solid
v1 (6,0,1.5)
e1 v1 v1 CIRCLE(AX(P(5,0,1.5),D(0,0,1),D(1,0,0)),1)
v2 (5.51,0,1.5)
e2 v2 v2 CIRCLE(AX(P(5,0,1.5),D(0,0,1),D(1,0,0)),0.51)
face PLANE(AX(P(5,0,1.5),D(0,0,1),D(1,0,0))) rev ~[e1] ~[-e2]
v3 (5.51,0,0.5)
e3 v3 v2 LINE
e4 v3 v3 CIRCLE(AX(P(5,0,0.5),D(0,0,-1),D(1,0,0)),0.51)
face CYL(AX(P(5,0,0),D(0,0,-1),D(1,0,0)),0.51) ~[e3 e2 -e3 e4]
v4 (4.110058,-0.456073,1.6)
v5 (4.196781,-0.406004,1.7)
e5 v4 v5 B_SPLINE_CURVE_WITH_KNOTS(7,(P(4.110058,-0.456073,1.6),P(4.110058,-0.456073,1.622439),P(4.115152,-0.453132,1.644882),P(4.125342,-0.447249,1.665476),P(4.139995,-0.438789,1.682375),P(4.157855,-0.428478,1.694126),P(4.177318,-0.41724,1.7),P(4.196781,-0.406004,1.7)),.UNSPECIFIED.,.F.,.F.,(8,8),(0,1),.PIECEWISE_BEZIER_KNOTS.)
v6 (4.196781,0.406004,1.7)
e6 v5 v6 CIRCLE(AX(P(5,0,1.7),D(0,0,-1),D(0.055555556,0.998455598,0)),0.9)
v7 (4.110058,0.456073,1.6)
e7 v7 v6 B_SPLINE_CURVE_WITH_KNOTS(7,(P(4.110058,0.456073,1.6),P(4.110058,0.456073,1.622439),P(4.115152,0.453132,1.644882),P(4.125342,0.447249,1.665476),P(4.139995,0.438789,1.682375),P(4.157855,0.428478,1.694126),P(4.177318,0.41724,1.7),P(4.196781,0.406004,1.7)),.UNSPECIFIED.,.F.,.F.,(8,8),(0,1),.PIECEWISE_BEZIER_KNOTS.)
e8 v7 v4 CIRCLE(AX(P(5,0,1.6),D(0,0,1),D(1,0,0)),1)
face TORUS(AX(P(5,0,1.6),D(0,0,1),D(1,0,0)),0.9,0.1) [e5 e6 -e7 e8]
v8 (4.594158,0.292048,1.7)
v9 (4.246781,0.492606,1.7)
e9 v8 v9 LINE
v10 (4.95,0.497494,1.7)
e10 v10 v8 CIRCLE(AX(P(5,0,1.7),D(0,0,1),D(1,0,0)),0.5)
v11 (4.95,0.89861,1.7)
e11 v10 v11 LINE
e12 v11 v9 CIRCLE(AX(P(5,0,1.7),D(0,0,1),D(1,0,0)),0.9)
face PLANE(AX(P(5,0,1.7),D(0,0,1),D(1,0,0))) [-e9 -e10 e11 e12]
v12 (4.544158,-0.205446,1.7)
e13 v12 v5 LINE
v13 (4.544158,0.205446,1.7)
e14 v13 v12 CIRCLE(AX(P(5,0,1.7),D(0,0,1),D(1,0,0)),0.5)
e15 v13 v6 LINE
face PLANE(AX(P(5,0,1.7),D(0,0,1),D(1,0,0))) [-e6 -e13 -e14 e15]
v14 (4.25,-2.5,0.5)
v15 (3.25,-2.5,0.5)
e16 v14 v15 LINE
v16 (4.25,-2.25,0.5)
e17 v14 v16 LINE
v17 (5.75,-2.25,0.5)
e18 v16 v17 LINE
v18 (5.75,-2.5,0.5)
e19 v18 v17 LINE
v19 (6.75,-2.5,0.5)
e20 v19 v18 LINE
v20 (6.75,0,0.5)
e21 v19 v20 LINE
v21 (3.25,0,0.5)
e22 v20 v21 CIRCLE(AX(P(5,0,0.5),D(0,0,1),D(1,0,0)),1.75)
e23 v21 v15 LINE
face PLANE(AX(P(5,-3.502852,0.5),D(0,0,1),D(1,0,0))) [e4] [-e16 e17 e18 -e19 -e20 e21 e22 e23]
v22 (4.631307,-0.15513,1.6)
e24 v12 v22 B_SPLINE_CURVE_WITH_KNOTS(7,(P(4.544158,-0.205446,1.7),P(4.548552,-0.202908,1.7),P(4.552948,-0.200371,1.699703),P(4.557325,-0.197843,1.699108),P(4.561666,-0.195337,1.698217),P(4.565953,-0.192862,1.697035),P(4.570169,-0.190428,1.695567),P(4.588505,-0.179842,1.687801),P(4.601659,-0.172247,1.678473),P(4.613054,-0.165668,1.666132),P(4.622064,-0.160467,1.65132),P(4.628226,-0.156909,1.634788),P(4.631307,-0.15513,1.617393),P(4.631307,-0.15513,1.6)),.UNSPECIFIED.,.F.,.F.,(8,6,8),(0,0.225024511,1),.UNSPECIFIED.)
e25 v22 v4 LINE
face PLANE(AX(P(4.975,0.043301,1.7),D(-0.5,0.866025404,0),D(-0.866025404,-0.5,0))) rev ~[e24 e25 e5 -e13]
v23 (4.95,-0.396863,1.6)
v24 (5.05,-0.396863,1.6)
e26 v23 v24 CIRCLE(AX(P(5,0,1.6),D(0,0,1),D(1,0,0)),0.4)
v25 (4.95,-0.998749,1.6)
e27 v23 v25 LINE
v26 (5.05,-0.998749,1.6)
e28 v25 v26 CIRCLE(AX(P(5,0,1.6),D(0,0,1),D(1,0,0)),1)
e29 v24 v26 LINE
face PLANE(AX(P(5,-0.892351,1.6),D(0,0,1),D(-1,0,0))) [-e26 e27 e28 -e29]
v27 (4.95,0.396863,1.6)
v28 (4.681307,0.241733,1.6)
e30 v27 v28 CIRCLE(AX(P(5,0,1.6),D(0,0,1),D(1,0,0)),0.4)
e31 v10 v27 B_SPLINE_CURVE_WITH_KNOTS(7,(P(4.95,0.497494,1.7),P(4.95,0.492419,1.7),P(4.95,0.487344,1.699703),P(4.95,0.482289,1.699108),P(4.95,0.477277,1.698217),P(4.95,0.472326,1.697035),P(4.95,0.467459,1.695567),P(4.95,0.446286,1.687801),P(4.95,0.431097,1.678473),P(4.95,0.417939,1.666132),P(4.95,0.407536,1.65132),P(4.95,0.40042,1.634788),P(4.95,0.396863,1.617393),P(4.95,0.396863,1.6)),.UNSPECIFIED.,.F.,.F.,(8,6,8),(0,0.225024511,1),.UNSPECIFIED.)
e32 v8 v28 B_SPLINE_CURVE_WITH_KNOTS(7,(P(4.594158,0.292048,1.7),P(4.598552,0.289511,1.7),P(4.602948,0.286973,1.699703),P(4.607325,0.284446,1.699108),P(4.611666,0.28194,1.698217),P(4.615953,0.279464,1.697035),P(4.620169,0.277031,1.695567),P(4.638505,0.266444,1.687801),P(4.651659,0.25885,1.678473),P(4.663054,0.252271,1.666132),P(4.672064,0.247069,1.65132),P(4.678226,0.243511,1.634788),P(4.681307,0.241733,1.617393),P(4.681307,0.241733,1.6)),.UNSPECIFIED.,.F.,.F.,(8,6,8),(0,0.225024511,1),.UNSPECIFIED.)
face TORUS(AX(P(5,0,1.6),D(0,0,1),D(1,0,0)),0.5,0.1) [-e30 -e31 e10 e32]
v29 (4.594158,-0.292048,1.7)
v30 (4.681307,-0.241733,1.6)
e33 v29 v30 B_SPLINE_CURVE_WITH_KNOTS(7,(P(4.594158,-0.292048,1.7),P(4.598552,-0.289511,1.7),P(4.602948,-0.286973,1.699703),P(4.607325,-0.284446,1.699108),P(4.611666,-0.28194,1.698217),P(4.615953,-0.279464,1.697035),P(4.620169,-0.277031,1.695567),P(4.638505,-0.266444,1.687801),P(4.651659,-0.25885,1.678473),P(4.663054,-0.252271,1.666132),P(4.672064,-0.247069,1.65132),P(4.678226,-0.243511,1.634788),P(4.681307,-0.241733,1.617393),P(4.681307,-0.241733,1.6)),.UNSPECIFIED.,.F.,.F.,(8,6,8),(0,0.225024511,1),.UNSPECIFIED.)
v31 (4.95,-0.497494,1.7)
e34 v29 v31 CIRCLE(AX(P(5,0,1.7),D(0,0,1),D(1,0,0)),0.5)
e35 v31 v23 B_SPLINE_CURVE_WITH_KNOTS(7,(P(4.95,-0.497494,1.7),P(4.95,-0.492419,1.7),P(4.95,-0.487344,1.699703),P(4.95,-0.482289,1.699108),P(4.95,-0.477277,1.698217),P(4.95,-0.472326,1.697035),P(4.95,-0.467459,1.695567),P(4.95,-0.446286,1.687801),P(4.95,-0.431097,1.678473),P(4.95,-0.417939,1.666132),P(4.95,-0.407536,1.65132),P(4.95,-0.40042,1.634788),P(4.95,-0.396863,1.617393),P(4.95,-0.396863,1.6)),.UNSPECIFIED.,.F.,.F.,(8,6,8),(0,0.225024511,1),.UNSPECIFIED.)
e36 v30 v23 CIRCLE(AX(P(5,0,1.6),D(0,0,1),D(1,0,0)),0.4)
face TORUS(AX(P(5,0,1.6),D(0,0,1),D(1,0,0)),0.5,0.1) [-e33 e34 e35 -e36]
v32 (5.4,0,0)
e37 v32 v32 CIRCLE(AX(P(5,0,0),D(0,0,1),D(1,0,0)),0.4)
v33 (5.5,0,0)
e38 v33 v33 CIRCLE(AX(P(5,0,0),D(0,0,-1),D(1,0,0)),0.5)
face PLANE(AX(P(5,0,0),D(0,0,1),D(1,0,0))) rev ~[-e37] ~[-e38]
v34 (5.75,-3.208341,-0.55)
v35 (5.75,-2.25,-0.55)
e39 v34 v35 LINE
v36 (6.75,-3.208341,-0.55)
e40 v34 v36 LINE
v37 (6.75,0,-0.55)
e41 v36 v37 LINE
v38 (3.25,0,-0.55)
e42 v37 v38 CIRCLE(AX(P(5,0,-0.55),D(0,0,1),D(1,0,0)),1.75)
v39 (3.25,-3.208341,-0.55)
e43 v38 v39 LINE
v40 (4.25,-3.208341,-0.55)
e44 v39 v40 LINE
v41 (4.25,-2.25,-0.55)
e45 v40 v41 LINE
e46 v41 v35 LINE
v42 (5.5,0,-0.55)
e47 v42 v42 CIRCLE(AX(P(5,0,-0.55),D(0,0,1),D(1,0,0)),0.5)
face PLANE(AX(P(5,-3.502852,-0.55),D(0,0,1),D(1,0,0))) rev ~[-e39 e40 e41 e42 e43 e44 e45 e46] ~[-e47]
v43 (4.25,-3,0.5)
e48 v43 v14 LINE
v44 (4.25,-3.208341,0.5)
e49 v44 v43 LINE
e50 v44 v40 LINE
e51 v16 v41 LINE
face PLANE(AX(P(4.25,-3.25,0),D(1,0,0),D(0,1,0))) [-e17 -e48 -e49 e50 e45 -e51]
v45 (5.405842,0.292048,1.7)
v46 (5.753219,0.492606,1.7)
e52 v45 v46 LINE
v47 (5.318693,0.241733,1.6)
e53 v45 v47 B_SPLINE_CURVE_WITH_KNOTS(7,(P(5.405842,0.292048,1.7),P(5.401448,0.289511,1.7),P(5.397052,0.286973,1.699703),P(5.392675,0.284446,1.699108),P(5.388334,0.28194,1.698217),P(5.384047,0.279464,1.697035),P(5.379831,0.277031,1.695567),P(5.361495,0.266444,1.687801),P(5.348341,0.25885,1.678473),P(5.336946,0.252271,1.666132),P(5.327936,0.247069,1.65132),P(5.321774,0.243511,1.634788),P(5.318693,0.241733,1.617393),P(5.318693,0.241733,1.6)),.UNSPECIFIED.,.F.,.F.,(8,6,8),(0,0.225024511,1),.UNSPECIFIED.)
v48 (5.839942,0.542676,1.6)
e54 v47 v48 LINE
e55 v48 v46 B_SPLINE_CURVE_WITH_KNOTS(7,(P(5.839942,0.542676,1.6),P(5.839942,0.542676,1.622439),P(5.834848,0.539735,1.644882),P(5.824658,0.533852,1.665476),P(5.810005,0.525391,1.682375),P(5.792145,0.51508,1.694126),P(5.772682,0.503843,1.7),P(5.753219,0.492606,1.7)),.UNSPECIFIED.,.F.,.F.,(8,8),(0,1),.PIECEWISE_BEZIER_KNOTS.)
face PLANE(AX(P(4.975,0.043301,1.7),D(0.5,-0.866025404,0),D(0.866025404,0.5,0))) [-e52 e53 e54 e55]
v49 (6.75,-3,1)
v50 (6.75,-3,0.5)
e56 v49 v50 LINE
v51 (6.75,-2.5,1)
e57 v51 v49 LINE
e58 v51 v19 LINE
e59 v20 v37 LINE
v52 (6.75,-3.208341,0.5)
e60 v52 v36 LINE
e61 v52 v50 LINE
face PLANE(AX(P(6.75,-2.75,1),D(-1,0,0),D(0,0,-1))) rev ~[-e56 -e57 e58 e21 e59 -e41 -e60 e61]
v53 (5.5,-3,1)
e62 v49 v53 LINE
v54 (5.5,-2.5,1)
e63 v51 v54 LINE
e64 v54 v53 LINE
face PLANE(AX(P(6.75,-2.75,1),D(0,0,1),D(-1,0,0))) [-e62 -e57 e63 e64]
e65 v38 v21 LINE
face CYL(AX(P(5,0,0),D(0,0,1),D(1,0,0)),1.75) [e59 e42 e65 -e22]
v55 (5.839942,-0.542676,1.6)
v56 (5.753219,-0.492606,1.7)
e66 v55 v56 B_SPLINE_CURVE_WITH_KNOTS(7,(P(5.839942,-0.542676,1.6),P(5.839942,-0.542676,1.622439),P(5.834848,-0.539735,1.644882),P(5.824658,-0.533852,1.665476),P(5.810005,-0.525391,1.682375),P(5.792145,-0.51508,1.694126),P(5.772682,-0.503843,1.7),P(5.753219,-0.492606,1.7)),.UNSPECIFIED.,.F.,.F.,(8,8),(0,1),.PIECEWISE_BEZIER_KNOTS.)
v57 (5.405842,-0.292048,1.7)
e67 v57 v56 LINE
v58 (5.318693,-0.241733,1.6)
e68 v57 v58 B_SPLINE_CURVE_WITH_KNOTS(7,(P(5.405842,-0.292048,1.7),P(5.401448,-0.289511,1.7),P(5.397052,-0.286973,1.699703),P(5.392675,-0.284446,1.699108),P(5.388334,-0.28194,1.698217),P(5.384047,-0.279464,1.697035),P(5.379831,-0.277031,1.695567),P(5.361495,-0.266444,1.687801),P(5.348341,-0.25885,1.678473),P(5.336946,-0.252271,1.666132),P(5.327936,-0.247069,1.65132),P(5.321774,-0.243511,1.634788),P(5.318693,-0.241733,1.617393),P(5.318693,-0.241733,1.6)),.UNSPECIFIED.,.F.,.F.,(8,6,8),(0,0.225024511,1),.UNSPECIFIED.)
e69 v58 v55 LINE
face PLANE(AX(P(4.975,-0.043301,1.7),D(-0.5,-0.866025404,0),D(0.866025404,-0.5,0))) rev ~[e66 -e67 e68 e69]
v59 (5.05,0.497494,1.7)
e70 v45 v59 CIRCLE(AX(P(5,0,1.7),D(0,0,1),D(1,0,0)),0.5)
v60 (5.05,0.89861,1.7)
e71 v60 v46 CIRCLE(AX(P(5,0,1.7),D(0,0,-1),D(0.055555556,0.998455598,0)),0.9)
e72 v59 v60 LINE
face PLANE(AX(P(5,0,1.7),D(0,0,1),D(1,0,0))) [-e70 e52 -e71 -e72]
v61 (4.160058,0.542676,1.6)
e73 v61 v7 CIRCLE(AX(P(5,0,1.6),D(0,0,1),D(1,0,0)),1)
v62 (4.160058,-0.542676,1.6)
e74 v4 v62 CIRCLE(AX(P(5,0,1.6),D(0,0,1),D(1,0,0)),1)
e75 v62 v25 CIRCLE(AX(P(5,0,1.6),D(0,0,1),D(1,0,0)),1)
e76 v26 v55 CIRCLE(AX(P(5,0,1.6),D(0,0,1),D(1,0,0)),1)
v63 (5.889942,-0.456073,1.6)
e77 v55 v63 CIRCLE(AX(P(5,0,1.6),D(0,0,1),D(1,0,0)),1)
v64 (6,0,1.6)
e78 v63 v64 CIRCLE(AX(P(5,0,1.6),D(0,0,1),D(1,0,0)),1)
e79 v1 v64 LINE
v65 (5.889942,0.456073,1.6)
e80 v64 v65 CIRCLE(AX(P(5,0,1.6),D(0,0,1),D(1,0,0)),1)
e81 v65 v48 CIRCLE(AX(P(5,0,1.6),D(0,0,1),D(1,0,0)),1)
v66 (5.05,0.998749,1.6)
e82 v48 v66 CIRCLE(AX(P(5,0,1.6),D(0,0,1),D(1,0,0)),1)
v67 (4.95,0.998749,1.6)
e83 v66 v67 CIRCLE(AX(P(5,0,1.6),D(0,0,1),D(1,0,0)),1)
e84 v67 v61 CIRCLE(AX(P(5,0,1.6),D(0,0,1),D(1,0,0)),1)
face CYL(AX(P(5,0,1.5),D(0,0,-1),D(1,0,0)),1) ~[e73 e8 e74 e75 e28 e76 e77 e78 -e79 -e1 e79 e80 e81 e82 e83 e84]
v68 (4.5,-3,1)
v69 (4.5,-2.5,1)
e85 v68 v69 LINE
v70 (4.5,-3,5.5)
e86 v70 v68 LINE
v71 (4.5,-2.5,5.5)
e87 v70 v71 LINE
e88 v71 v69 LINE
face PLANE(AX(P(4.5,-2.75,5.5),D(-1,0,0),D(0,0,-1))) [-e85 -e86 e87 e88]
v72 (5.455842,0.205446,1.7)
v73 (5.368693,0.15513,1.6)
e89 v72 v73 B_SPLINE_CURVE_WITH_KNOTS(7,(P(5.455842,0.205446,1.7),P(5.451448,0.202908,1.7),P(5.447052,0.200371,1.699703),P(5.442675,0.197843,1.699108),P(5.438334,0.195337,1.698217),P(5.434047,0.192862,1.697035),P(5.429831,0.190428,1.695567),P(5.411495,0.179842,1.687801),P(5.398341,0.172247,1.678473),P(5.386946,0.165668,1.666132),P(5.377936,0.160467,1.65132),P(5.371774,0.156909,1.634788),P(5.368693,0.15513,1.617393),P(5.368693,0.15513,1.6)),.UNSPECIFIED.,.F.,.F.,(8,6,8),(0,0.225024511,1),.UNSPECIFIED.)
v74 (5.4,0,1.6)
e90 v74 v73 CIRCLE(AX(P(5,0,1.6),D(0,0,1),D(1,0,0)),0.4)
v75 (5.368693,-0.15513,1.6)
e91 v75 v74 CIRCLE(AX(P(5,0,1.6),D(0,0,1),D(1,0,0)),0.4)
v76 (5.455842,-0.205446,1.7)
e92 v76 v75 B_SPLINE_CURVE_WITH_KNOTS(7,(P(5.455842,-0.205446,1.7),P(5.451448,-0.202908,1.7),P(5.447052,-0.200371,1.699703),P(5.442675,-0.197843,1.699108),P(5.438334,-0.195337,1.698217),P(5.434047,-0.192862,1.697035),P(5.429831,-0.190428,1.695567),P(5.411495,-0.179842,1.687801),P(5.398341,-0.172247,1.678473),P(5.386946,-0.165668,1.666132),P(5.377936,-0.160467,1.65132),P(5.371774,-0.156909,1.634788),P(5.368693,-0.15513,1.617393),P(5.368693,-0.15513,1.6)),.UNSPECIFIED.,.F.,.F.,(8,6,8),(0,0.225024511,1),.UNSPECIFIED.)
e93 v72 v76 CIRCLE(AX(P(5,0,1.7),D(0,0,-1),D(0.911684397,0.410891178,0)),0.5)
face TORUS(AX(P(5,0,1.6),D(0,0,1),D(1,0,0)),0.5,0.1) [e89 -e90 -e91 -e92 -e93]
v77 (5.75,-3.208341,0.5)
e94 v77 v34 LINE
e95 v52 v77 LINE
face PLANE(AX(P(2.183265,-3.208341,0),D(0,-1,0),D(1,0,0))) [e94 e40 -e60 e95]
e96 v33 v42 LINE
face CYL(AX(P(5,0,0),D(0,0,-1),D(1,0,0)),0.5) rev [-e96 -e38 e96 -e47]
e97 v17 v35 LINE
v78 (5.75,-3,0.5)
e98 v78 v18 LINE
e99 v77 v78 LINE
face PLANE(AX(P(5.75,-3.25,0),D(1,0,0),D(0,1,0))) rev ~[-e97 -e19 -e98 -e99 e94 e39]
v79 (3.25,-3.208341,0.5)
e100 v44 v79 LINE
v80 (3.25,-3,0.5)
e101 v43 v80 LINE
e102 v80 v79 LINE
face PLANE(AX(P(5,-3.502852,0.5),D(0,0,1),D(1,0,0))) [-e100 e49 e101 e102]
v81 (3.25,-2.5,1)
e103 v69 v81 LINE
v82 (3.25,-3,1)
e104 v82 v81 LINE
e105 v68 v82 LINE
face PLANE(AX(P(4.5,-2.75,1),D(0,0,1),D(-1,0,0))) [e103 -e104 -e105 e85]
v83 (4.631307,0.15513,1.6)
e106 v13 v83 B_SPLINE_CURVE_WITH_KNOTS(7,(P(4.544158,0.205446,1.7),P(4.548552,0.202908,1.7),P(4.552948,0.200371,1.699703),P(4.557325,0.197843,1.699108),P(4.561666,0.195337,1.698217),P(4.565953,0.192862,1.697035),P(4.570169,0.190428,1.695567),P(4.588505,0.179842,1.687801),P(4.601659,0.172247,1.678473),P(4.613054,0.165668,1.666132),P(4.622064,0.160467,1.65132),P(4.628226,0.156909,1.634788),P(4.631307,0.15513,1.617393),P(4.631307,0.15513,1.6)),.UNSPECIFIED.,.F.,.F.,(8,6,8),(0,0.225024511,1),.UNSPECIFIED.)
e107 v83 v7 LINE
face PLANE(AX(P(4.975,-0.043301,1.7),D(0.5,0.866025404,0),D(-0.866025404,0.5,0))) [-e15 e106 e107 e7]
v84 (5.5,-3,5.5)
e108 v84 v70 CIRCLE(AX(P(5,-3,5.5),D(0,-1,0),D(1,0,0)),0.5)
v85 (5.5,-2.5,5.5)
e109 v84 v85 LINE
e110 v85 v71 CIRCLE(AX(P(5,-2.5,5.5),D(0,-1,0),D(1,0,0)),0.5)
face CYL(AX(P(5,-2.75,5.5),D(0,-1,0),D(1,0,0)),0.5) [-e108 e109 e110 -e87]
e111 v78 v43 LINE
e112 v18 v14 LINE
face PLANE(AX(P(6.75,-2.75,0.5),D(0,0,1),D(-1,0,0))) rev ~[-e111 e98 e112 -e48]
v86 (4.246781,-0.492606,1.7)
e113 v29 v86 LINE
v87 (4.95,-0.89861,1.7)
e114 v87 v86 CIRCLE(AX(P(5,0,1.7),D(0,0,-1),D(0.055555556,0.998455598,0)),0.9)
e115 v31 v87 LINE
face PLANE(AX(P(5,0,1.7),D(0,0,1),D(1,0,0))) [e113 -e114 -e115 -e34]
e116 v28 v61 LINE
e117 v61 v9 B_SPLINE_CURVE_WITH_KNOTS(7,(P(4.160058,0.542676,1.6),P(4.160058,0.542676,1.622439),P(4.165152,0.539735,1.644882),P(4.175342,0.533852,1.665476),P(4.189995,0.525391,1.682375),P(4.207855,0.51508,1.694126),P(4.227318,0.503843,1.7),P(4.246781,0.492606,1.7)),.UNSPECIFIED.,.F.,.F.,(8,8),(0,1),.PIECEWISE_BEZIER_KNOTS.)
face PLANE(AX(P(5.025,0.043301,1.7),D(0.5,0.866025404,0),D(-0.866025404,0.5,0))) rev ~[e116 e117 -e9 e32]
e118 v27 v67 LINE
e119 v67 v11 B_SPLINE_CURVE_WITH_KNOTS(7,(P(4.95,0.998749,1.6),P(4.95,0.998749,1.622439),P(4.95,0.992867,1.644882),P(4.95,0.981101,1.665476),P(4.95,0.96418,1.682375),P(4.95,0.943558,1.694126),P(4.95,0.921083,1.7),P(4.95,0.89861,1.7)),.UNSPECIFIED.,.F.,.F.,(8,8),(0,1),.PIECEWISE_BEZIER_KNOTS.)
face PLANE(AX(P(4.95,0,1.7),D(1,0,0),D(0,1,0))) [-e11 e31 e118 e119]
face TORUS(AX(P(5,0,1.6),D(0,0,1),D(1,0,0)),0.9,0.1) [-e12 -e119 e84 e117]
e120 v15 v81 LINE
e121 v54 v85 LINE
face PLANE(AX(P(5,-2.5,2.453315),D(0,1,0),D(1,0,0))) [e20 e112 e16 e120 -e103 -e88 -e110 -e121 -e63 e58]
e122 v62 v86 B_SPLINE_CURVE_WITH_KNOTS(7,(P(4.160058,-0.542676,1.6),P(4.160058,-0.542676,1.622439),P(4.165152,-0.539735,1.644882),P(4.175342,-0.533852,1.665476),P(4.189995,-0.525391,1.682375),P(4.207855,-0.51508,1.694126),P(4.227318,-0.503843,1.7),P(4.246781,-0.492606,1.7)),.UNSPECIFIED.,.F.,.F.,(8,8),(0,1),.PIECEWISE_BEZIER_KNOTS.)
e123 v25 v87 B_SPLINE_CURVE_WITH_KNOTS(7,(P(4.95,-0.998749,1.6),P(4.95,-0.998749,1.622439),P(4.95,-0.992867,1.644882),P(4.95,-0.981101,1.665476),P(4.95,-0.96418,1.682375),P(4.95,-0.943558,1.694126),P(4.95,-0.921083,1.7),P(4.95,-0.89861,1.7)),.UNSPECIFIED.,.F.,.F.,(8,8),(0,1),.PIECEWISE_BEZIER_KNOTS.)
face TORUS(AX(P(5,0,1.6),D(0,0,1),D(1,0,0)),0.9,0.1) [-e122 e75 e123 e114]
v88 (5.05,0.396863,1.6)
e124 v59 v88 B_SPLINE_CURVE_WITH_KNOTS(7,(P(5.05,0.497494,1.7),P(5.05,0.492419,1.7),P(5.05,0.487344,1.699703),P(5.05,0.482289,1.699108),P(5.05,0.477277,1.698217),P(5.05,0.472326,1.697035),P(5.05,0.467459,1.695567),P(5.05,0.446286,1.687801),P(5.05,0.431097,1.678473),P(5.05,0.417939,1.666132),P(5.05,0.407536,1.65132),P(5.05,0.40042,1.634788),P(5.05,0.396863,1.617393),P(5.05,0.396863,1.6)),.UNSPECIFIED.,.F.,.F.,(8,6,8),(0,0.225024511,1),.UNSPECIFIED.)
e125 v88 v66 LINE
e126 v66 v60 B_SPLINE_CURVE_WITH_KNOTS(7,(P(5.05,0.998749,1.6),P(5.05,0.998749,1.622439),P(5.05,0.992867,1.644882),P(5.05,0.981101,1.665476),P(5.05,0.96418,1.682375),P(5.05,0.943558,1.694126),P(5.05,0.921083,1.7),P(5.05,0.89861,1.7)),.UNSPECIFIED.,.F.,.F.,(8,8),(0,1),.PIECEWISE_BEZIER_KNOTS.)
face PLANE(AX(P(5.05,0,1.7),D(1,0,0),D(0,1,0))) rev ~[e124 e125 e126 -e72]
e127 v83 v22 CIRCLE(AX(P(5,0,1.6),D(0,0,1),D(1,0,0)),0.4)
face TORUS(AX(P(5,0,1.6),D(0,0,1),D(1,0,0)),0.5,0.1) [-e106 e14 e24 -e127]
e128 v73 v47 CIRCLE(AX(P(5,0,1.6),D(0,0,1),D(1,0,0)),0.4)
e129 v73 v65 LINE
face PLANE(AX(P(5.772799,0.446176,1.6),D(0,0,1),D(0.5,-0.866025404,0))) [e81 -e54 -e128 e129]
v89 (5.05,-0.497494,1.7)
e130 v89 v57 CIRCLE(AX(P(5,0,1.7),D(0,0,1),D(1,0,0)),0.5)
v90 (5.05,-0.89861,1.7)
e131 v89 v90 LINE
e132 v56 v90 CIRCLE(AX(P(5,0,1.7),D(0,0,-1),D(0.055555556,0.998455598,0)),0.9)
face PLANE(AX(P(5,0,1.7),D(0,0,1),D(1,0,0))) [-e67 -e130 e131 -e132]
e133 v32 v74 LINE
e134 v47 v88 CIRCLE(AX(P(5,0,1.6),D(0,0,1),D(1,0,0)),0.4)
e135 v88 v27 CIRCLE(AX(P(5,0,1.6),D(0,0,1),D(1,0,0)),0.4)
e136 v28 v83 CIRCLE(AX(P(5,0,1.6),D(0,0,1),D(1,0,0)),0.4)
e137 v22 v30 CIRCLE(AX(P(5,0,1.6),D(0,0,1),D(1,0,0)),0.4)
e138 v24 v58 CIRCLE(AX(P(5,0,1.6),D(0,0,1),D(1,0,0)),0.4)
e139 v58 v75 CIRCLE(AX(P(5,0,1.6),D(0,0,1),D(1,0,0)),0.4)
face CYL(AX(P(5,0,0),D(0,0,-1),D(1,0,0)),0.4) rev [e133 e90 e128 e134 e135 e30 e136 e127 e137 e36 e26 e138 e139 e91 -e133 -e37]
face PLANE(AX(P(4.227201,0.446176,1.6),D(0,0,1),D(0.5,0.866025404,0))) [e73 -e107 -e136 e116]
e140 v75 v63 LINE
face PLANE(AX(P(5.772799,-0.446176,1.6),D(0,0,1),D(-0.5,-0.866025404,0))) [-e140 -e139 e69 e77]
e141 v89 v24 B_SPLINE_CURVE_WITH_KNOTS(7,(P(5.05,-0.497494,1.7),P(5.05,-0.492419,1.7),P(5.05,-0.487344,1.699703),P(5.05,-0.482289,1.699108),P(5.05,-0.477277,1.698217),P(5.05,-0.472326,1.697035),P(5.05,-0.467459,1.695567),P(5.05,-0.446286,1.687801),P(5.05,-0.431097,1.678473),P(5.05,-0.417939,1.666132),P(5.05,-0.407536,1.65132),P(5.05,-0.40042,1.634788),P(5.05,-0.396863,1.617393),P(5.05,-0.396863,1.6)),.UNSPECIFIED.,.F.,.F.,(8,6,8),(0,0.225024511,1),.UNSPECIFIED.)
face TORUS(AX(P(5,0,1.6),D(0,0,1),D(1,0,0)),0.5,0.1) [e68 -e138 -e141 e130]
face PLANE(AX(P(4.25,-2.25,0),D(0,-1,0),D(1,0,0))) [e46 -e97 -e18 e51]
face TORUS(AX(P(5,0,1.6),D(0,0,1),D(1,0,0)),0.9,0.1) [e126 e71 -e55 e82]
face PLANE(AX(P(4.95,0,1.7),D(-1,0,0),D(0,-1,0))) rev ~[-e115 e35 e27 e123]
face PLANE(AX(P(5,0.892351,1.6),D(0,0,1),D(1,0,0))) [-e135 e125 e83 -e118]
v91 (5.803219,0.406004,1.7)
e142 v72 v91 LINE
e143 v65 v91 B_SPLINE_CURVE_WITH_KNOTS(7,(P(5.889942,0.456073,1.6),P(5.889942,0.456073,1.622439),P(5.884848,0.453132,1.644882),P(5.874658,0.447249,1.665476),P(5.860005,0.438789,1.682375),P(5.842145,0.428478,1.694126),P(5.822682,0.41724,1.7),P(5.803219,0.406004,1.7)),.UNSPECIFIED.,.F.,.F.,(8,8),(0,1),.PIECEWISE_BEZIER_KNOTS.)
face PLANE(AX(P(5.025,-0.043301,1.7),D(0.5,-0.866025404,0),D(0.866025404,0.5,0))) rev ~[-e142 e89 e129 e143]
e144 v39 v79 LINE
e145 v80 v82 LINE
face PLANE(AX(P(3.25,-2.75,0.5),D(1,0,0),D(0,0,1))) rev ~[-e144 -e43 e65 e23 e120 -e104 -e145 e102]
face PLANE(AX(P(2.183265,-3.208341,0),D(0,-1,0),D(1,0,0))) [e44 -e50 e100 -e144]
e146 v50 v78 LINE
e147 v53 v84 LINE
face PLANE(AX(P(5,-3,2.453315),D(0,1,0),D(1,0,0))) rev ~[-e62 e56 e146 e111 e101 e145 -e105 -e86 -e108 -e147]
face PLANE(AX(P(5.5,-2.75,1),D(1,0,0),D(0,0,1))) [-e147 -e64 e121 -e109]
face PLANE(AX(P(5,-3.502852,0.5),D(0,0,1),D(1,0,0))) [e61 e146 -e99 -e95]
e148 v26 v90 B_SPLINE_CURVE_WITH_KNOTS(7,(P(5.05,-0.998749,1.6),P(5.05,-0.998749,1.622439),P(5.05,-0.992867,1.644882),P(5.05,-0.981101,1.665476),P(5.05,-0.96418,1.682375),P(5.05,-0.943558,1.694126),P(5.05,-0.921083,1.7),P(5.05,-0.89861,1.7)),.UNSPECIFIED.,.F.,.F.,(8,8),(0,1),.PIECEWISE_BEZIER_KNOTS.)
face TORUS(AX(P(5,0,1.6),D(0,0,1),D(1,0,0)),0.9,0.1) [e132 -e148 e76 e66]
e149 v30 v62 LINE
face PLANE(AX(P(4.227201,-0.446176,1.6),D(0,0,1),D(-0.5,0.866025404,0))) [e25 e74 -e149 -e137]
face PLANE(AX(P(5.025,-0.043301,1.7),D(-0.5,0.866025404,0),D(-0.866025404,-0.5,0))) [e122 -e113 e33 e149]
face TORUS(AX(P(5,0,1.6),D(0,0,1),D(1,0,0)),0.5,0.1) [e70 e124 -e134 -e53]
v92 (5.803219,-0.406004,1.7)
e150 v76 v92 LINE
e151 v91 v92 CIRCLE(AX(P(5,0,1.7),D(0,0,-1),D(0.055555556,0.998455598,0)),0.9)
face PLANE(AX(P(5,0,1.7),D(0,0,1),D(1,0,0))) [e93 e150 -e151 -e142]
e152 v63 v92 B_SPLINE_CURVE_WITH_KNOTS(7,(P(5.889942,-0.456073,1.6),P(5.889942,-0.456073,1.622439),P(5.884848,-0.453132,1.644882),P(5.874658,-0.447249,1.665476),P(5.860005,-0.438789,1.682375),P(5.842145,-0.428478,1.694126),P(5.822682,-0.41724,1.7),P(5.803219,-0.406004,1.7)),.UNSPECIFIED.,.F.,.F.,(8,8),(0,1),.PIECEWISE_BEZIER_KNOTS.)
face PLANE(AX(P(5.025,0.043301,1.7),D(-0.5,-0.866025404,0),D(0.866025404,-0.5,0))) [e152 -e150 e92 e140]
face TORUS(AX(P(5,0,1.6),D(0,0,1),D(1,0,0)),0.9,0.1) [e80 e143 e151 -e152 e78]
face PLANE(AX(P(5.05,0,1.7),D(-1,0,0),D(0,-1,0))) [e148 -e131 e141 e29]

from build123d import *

# Parameters (mm, degrees)
SKETCH_R           = 0.5
SKETCH_W           = 1.5
SKETCH_H           = 1
PAD_DEPTH          = 0.5
PAD_DEPTH_BACK     = 0.55
SKETCH001_W        = 4.919434
SKETCH001_H        = 5.037946
POCKET_DEPTH       = 1.05
POCKET_DEPTH_BACK  = 1.55
SKETCH006_W        = 1.496239
SKETCH006_H        = 0.320585
POCKET003_DEPTH    = 5
SKETCH002_R        = 0.51
SKETCH002_R_2      = 0.4
PAD001_DEPTH       = 1.5
SKETCH003_R        = 1
PAD002_DEPTH       = 0.2
SKETCH004_R        = 0.4
POCKET001_DEPTH    = 1
FILLET_R           = 0.1
SKETCH005_W        = 0.1
SKETCH005_H        = 1.784702
POCKET002_DEPTH    = 0.1
POLARPATTERN_COUNT = 6
PAD003_DEPTH       = 0.25


with BuildPart() as part:
    # Sketch → Pad (new body, two sides)
    with BuildSketch(Plane.XY) as pad_sk:
        with BuildLine():
            ThreePointArc((1.75, 0), (0, 1.75), (-1.75, 0))
            Line((-1.75, 0), (-1.75, -4.25))
            Line((-1.75, -4.25), (-1.75, -8))
            Line((-1.75, -8), (1.75, -8))
            Line((1.75, -8), (1.75, -4.25))
            Line((1.75, -4.25), (1.75, 0))
        make_face()
        Circle(SKETCH_R, mode=Mode.SUBTRACT)
        with Locations((0, -2.75)):
            Rectangle(SKETCH_W, SKETCH_H, mode=Mode.SUBTRACT)
    extrude(amount=PAD_DEPTH)
    extrude(pad_sk.sketch, amount=-PAD_DEPTH_BACK)

    # Sketch001 → Pocket (cut, two sides)
    with BuildSketch(Plane.XY) as pocket_sk:
        with Locations((-0.357018, -5.727314)):
            Rectangle(SKETCH001_W, SKETCH001_H)
    extrude(amount=-POCKET_DEPTH, mode=Mode.SUBTRACT)
    extrude(pocket_sk.sketch, amount=POCKET_DEPTH_BACK, mode=Mode.SUBTRACT)

    # Sketch006 → Pocket003 (cut)
    with BuildSketch(Plane.XY):
        with Locations((-0.005068, -3.405655)):
            Rectangle(SKETCH006_W, SKETCH006_H)
    extrude(amount=-POCKET003_DEPTH, mode=Mode.SUBTRACT)

    # Sketch002 → Pad001 (join)
    with BuildSketch(Plane.XY):
        Circle(SKETCH002_R)
        Circle(SKETCH002_R_2, mode=Mode.SUBTRACT)
    extrude(amount=PAD001_DEPTH)

    # Sketch003 → Pad002 (join)
    with BuildSketch(Plane.XY.offset(1.5)):
        Circle(SKETCH003_R)
    extrude(amount=PAD002_DEPTH)

    # Sketch004 → Pocket001 (cut)
    with BuildSketch(Plane.XY.offset(1.7)):
        Circle(SKETCH004_R)
    extrude(amount=-POCKET001_DEPTH, mode=Mode.SUBTRACT)

    # Fillet
    fillet_edges = [part.edges().sort_by_distance(p)[0] for p in [
        (-0.4, 0, 1.7),
        (-1, 0, 1.7),
    ]]
    fillet(fillet_edges, radius=FILLET_R)

    # Sketch005 → Pocket002 (cut)
    with BuildSketch(Plane.XY.offset(1.7)):
        with Locations((0, 0.892351)):
            Rectangle(SKETCH005_W, SKETCH005_H)
    pocket002 = extrude(amount=-POCKET002_DEPTH, mode=Mode.SUBTRACT)

    # PolarPattern: Pocket002 ×6 about axis
    polarpattern_axis = Axis((0, 0, 1.7), (0, 0, 1))
    for i in range(1, POLARPATTERN_COUNT):
        add(pocket002.rotate(polarpattern_axis, i * 360 / POLARPATTERN_COUNT), mode=Mode.SUBTRACT)

    # Sketch007 → Pad003 (join, symmetric)
    with BuildSketch(Plane(origin=(0, -2.75, -0.05), x_dir=(-1, 0, 0), z_dir=(0, -1, 0))):
        with BuildLine():
            Line((-1.75, -0.55), (1.75, -0.55))
            Line((1.75, -0.55), (1.75, -1.05))
            Line((0.5, -1.05), (1.75, -1.05))
            Line((0.5, -5.55), (0.5, -1.05))
            ThreePointArc((-0.5, -5.55), (0, -6.05), (0.5, -5.55))
            Line((-0.5, -1.05), (-0.5, -5.55))
            Line((-1.75, -1.05), (-0.5, -1.05))
            Line((-1.75, -1.05), (-1.75, -0.55))
        make_face()
    extrude(amount=PAD003_DEPTH, both=True)


with BuildPart() as part_1:
    # Body002 placement: moved
    add(part.part.moved(Location((5, 0, 0))))


solid = part_1.part
